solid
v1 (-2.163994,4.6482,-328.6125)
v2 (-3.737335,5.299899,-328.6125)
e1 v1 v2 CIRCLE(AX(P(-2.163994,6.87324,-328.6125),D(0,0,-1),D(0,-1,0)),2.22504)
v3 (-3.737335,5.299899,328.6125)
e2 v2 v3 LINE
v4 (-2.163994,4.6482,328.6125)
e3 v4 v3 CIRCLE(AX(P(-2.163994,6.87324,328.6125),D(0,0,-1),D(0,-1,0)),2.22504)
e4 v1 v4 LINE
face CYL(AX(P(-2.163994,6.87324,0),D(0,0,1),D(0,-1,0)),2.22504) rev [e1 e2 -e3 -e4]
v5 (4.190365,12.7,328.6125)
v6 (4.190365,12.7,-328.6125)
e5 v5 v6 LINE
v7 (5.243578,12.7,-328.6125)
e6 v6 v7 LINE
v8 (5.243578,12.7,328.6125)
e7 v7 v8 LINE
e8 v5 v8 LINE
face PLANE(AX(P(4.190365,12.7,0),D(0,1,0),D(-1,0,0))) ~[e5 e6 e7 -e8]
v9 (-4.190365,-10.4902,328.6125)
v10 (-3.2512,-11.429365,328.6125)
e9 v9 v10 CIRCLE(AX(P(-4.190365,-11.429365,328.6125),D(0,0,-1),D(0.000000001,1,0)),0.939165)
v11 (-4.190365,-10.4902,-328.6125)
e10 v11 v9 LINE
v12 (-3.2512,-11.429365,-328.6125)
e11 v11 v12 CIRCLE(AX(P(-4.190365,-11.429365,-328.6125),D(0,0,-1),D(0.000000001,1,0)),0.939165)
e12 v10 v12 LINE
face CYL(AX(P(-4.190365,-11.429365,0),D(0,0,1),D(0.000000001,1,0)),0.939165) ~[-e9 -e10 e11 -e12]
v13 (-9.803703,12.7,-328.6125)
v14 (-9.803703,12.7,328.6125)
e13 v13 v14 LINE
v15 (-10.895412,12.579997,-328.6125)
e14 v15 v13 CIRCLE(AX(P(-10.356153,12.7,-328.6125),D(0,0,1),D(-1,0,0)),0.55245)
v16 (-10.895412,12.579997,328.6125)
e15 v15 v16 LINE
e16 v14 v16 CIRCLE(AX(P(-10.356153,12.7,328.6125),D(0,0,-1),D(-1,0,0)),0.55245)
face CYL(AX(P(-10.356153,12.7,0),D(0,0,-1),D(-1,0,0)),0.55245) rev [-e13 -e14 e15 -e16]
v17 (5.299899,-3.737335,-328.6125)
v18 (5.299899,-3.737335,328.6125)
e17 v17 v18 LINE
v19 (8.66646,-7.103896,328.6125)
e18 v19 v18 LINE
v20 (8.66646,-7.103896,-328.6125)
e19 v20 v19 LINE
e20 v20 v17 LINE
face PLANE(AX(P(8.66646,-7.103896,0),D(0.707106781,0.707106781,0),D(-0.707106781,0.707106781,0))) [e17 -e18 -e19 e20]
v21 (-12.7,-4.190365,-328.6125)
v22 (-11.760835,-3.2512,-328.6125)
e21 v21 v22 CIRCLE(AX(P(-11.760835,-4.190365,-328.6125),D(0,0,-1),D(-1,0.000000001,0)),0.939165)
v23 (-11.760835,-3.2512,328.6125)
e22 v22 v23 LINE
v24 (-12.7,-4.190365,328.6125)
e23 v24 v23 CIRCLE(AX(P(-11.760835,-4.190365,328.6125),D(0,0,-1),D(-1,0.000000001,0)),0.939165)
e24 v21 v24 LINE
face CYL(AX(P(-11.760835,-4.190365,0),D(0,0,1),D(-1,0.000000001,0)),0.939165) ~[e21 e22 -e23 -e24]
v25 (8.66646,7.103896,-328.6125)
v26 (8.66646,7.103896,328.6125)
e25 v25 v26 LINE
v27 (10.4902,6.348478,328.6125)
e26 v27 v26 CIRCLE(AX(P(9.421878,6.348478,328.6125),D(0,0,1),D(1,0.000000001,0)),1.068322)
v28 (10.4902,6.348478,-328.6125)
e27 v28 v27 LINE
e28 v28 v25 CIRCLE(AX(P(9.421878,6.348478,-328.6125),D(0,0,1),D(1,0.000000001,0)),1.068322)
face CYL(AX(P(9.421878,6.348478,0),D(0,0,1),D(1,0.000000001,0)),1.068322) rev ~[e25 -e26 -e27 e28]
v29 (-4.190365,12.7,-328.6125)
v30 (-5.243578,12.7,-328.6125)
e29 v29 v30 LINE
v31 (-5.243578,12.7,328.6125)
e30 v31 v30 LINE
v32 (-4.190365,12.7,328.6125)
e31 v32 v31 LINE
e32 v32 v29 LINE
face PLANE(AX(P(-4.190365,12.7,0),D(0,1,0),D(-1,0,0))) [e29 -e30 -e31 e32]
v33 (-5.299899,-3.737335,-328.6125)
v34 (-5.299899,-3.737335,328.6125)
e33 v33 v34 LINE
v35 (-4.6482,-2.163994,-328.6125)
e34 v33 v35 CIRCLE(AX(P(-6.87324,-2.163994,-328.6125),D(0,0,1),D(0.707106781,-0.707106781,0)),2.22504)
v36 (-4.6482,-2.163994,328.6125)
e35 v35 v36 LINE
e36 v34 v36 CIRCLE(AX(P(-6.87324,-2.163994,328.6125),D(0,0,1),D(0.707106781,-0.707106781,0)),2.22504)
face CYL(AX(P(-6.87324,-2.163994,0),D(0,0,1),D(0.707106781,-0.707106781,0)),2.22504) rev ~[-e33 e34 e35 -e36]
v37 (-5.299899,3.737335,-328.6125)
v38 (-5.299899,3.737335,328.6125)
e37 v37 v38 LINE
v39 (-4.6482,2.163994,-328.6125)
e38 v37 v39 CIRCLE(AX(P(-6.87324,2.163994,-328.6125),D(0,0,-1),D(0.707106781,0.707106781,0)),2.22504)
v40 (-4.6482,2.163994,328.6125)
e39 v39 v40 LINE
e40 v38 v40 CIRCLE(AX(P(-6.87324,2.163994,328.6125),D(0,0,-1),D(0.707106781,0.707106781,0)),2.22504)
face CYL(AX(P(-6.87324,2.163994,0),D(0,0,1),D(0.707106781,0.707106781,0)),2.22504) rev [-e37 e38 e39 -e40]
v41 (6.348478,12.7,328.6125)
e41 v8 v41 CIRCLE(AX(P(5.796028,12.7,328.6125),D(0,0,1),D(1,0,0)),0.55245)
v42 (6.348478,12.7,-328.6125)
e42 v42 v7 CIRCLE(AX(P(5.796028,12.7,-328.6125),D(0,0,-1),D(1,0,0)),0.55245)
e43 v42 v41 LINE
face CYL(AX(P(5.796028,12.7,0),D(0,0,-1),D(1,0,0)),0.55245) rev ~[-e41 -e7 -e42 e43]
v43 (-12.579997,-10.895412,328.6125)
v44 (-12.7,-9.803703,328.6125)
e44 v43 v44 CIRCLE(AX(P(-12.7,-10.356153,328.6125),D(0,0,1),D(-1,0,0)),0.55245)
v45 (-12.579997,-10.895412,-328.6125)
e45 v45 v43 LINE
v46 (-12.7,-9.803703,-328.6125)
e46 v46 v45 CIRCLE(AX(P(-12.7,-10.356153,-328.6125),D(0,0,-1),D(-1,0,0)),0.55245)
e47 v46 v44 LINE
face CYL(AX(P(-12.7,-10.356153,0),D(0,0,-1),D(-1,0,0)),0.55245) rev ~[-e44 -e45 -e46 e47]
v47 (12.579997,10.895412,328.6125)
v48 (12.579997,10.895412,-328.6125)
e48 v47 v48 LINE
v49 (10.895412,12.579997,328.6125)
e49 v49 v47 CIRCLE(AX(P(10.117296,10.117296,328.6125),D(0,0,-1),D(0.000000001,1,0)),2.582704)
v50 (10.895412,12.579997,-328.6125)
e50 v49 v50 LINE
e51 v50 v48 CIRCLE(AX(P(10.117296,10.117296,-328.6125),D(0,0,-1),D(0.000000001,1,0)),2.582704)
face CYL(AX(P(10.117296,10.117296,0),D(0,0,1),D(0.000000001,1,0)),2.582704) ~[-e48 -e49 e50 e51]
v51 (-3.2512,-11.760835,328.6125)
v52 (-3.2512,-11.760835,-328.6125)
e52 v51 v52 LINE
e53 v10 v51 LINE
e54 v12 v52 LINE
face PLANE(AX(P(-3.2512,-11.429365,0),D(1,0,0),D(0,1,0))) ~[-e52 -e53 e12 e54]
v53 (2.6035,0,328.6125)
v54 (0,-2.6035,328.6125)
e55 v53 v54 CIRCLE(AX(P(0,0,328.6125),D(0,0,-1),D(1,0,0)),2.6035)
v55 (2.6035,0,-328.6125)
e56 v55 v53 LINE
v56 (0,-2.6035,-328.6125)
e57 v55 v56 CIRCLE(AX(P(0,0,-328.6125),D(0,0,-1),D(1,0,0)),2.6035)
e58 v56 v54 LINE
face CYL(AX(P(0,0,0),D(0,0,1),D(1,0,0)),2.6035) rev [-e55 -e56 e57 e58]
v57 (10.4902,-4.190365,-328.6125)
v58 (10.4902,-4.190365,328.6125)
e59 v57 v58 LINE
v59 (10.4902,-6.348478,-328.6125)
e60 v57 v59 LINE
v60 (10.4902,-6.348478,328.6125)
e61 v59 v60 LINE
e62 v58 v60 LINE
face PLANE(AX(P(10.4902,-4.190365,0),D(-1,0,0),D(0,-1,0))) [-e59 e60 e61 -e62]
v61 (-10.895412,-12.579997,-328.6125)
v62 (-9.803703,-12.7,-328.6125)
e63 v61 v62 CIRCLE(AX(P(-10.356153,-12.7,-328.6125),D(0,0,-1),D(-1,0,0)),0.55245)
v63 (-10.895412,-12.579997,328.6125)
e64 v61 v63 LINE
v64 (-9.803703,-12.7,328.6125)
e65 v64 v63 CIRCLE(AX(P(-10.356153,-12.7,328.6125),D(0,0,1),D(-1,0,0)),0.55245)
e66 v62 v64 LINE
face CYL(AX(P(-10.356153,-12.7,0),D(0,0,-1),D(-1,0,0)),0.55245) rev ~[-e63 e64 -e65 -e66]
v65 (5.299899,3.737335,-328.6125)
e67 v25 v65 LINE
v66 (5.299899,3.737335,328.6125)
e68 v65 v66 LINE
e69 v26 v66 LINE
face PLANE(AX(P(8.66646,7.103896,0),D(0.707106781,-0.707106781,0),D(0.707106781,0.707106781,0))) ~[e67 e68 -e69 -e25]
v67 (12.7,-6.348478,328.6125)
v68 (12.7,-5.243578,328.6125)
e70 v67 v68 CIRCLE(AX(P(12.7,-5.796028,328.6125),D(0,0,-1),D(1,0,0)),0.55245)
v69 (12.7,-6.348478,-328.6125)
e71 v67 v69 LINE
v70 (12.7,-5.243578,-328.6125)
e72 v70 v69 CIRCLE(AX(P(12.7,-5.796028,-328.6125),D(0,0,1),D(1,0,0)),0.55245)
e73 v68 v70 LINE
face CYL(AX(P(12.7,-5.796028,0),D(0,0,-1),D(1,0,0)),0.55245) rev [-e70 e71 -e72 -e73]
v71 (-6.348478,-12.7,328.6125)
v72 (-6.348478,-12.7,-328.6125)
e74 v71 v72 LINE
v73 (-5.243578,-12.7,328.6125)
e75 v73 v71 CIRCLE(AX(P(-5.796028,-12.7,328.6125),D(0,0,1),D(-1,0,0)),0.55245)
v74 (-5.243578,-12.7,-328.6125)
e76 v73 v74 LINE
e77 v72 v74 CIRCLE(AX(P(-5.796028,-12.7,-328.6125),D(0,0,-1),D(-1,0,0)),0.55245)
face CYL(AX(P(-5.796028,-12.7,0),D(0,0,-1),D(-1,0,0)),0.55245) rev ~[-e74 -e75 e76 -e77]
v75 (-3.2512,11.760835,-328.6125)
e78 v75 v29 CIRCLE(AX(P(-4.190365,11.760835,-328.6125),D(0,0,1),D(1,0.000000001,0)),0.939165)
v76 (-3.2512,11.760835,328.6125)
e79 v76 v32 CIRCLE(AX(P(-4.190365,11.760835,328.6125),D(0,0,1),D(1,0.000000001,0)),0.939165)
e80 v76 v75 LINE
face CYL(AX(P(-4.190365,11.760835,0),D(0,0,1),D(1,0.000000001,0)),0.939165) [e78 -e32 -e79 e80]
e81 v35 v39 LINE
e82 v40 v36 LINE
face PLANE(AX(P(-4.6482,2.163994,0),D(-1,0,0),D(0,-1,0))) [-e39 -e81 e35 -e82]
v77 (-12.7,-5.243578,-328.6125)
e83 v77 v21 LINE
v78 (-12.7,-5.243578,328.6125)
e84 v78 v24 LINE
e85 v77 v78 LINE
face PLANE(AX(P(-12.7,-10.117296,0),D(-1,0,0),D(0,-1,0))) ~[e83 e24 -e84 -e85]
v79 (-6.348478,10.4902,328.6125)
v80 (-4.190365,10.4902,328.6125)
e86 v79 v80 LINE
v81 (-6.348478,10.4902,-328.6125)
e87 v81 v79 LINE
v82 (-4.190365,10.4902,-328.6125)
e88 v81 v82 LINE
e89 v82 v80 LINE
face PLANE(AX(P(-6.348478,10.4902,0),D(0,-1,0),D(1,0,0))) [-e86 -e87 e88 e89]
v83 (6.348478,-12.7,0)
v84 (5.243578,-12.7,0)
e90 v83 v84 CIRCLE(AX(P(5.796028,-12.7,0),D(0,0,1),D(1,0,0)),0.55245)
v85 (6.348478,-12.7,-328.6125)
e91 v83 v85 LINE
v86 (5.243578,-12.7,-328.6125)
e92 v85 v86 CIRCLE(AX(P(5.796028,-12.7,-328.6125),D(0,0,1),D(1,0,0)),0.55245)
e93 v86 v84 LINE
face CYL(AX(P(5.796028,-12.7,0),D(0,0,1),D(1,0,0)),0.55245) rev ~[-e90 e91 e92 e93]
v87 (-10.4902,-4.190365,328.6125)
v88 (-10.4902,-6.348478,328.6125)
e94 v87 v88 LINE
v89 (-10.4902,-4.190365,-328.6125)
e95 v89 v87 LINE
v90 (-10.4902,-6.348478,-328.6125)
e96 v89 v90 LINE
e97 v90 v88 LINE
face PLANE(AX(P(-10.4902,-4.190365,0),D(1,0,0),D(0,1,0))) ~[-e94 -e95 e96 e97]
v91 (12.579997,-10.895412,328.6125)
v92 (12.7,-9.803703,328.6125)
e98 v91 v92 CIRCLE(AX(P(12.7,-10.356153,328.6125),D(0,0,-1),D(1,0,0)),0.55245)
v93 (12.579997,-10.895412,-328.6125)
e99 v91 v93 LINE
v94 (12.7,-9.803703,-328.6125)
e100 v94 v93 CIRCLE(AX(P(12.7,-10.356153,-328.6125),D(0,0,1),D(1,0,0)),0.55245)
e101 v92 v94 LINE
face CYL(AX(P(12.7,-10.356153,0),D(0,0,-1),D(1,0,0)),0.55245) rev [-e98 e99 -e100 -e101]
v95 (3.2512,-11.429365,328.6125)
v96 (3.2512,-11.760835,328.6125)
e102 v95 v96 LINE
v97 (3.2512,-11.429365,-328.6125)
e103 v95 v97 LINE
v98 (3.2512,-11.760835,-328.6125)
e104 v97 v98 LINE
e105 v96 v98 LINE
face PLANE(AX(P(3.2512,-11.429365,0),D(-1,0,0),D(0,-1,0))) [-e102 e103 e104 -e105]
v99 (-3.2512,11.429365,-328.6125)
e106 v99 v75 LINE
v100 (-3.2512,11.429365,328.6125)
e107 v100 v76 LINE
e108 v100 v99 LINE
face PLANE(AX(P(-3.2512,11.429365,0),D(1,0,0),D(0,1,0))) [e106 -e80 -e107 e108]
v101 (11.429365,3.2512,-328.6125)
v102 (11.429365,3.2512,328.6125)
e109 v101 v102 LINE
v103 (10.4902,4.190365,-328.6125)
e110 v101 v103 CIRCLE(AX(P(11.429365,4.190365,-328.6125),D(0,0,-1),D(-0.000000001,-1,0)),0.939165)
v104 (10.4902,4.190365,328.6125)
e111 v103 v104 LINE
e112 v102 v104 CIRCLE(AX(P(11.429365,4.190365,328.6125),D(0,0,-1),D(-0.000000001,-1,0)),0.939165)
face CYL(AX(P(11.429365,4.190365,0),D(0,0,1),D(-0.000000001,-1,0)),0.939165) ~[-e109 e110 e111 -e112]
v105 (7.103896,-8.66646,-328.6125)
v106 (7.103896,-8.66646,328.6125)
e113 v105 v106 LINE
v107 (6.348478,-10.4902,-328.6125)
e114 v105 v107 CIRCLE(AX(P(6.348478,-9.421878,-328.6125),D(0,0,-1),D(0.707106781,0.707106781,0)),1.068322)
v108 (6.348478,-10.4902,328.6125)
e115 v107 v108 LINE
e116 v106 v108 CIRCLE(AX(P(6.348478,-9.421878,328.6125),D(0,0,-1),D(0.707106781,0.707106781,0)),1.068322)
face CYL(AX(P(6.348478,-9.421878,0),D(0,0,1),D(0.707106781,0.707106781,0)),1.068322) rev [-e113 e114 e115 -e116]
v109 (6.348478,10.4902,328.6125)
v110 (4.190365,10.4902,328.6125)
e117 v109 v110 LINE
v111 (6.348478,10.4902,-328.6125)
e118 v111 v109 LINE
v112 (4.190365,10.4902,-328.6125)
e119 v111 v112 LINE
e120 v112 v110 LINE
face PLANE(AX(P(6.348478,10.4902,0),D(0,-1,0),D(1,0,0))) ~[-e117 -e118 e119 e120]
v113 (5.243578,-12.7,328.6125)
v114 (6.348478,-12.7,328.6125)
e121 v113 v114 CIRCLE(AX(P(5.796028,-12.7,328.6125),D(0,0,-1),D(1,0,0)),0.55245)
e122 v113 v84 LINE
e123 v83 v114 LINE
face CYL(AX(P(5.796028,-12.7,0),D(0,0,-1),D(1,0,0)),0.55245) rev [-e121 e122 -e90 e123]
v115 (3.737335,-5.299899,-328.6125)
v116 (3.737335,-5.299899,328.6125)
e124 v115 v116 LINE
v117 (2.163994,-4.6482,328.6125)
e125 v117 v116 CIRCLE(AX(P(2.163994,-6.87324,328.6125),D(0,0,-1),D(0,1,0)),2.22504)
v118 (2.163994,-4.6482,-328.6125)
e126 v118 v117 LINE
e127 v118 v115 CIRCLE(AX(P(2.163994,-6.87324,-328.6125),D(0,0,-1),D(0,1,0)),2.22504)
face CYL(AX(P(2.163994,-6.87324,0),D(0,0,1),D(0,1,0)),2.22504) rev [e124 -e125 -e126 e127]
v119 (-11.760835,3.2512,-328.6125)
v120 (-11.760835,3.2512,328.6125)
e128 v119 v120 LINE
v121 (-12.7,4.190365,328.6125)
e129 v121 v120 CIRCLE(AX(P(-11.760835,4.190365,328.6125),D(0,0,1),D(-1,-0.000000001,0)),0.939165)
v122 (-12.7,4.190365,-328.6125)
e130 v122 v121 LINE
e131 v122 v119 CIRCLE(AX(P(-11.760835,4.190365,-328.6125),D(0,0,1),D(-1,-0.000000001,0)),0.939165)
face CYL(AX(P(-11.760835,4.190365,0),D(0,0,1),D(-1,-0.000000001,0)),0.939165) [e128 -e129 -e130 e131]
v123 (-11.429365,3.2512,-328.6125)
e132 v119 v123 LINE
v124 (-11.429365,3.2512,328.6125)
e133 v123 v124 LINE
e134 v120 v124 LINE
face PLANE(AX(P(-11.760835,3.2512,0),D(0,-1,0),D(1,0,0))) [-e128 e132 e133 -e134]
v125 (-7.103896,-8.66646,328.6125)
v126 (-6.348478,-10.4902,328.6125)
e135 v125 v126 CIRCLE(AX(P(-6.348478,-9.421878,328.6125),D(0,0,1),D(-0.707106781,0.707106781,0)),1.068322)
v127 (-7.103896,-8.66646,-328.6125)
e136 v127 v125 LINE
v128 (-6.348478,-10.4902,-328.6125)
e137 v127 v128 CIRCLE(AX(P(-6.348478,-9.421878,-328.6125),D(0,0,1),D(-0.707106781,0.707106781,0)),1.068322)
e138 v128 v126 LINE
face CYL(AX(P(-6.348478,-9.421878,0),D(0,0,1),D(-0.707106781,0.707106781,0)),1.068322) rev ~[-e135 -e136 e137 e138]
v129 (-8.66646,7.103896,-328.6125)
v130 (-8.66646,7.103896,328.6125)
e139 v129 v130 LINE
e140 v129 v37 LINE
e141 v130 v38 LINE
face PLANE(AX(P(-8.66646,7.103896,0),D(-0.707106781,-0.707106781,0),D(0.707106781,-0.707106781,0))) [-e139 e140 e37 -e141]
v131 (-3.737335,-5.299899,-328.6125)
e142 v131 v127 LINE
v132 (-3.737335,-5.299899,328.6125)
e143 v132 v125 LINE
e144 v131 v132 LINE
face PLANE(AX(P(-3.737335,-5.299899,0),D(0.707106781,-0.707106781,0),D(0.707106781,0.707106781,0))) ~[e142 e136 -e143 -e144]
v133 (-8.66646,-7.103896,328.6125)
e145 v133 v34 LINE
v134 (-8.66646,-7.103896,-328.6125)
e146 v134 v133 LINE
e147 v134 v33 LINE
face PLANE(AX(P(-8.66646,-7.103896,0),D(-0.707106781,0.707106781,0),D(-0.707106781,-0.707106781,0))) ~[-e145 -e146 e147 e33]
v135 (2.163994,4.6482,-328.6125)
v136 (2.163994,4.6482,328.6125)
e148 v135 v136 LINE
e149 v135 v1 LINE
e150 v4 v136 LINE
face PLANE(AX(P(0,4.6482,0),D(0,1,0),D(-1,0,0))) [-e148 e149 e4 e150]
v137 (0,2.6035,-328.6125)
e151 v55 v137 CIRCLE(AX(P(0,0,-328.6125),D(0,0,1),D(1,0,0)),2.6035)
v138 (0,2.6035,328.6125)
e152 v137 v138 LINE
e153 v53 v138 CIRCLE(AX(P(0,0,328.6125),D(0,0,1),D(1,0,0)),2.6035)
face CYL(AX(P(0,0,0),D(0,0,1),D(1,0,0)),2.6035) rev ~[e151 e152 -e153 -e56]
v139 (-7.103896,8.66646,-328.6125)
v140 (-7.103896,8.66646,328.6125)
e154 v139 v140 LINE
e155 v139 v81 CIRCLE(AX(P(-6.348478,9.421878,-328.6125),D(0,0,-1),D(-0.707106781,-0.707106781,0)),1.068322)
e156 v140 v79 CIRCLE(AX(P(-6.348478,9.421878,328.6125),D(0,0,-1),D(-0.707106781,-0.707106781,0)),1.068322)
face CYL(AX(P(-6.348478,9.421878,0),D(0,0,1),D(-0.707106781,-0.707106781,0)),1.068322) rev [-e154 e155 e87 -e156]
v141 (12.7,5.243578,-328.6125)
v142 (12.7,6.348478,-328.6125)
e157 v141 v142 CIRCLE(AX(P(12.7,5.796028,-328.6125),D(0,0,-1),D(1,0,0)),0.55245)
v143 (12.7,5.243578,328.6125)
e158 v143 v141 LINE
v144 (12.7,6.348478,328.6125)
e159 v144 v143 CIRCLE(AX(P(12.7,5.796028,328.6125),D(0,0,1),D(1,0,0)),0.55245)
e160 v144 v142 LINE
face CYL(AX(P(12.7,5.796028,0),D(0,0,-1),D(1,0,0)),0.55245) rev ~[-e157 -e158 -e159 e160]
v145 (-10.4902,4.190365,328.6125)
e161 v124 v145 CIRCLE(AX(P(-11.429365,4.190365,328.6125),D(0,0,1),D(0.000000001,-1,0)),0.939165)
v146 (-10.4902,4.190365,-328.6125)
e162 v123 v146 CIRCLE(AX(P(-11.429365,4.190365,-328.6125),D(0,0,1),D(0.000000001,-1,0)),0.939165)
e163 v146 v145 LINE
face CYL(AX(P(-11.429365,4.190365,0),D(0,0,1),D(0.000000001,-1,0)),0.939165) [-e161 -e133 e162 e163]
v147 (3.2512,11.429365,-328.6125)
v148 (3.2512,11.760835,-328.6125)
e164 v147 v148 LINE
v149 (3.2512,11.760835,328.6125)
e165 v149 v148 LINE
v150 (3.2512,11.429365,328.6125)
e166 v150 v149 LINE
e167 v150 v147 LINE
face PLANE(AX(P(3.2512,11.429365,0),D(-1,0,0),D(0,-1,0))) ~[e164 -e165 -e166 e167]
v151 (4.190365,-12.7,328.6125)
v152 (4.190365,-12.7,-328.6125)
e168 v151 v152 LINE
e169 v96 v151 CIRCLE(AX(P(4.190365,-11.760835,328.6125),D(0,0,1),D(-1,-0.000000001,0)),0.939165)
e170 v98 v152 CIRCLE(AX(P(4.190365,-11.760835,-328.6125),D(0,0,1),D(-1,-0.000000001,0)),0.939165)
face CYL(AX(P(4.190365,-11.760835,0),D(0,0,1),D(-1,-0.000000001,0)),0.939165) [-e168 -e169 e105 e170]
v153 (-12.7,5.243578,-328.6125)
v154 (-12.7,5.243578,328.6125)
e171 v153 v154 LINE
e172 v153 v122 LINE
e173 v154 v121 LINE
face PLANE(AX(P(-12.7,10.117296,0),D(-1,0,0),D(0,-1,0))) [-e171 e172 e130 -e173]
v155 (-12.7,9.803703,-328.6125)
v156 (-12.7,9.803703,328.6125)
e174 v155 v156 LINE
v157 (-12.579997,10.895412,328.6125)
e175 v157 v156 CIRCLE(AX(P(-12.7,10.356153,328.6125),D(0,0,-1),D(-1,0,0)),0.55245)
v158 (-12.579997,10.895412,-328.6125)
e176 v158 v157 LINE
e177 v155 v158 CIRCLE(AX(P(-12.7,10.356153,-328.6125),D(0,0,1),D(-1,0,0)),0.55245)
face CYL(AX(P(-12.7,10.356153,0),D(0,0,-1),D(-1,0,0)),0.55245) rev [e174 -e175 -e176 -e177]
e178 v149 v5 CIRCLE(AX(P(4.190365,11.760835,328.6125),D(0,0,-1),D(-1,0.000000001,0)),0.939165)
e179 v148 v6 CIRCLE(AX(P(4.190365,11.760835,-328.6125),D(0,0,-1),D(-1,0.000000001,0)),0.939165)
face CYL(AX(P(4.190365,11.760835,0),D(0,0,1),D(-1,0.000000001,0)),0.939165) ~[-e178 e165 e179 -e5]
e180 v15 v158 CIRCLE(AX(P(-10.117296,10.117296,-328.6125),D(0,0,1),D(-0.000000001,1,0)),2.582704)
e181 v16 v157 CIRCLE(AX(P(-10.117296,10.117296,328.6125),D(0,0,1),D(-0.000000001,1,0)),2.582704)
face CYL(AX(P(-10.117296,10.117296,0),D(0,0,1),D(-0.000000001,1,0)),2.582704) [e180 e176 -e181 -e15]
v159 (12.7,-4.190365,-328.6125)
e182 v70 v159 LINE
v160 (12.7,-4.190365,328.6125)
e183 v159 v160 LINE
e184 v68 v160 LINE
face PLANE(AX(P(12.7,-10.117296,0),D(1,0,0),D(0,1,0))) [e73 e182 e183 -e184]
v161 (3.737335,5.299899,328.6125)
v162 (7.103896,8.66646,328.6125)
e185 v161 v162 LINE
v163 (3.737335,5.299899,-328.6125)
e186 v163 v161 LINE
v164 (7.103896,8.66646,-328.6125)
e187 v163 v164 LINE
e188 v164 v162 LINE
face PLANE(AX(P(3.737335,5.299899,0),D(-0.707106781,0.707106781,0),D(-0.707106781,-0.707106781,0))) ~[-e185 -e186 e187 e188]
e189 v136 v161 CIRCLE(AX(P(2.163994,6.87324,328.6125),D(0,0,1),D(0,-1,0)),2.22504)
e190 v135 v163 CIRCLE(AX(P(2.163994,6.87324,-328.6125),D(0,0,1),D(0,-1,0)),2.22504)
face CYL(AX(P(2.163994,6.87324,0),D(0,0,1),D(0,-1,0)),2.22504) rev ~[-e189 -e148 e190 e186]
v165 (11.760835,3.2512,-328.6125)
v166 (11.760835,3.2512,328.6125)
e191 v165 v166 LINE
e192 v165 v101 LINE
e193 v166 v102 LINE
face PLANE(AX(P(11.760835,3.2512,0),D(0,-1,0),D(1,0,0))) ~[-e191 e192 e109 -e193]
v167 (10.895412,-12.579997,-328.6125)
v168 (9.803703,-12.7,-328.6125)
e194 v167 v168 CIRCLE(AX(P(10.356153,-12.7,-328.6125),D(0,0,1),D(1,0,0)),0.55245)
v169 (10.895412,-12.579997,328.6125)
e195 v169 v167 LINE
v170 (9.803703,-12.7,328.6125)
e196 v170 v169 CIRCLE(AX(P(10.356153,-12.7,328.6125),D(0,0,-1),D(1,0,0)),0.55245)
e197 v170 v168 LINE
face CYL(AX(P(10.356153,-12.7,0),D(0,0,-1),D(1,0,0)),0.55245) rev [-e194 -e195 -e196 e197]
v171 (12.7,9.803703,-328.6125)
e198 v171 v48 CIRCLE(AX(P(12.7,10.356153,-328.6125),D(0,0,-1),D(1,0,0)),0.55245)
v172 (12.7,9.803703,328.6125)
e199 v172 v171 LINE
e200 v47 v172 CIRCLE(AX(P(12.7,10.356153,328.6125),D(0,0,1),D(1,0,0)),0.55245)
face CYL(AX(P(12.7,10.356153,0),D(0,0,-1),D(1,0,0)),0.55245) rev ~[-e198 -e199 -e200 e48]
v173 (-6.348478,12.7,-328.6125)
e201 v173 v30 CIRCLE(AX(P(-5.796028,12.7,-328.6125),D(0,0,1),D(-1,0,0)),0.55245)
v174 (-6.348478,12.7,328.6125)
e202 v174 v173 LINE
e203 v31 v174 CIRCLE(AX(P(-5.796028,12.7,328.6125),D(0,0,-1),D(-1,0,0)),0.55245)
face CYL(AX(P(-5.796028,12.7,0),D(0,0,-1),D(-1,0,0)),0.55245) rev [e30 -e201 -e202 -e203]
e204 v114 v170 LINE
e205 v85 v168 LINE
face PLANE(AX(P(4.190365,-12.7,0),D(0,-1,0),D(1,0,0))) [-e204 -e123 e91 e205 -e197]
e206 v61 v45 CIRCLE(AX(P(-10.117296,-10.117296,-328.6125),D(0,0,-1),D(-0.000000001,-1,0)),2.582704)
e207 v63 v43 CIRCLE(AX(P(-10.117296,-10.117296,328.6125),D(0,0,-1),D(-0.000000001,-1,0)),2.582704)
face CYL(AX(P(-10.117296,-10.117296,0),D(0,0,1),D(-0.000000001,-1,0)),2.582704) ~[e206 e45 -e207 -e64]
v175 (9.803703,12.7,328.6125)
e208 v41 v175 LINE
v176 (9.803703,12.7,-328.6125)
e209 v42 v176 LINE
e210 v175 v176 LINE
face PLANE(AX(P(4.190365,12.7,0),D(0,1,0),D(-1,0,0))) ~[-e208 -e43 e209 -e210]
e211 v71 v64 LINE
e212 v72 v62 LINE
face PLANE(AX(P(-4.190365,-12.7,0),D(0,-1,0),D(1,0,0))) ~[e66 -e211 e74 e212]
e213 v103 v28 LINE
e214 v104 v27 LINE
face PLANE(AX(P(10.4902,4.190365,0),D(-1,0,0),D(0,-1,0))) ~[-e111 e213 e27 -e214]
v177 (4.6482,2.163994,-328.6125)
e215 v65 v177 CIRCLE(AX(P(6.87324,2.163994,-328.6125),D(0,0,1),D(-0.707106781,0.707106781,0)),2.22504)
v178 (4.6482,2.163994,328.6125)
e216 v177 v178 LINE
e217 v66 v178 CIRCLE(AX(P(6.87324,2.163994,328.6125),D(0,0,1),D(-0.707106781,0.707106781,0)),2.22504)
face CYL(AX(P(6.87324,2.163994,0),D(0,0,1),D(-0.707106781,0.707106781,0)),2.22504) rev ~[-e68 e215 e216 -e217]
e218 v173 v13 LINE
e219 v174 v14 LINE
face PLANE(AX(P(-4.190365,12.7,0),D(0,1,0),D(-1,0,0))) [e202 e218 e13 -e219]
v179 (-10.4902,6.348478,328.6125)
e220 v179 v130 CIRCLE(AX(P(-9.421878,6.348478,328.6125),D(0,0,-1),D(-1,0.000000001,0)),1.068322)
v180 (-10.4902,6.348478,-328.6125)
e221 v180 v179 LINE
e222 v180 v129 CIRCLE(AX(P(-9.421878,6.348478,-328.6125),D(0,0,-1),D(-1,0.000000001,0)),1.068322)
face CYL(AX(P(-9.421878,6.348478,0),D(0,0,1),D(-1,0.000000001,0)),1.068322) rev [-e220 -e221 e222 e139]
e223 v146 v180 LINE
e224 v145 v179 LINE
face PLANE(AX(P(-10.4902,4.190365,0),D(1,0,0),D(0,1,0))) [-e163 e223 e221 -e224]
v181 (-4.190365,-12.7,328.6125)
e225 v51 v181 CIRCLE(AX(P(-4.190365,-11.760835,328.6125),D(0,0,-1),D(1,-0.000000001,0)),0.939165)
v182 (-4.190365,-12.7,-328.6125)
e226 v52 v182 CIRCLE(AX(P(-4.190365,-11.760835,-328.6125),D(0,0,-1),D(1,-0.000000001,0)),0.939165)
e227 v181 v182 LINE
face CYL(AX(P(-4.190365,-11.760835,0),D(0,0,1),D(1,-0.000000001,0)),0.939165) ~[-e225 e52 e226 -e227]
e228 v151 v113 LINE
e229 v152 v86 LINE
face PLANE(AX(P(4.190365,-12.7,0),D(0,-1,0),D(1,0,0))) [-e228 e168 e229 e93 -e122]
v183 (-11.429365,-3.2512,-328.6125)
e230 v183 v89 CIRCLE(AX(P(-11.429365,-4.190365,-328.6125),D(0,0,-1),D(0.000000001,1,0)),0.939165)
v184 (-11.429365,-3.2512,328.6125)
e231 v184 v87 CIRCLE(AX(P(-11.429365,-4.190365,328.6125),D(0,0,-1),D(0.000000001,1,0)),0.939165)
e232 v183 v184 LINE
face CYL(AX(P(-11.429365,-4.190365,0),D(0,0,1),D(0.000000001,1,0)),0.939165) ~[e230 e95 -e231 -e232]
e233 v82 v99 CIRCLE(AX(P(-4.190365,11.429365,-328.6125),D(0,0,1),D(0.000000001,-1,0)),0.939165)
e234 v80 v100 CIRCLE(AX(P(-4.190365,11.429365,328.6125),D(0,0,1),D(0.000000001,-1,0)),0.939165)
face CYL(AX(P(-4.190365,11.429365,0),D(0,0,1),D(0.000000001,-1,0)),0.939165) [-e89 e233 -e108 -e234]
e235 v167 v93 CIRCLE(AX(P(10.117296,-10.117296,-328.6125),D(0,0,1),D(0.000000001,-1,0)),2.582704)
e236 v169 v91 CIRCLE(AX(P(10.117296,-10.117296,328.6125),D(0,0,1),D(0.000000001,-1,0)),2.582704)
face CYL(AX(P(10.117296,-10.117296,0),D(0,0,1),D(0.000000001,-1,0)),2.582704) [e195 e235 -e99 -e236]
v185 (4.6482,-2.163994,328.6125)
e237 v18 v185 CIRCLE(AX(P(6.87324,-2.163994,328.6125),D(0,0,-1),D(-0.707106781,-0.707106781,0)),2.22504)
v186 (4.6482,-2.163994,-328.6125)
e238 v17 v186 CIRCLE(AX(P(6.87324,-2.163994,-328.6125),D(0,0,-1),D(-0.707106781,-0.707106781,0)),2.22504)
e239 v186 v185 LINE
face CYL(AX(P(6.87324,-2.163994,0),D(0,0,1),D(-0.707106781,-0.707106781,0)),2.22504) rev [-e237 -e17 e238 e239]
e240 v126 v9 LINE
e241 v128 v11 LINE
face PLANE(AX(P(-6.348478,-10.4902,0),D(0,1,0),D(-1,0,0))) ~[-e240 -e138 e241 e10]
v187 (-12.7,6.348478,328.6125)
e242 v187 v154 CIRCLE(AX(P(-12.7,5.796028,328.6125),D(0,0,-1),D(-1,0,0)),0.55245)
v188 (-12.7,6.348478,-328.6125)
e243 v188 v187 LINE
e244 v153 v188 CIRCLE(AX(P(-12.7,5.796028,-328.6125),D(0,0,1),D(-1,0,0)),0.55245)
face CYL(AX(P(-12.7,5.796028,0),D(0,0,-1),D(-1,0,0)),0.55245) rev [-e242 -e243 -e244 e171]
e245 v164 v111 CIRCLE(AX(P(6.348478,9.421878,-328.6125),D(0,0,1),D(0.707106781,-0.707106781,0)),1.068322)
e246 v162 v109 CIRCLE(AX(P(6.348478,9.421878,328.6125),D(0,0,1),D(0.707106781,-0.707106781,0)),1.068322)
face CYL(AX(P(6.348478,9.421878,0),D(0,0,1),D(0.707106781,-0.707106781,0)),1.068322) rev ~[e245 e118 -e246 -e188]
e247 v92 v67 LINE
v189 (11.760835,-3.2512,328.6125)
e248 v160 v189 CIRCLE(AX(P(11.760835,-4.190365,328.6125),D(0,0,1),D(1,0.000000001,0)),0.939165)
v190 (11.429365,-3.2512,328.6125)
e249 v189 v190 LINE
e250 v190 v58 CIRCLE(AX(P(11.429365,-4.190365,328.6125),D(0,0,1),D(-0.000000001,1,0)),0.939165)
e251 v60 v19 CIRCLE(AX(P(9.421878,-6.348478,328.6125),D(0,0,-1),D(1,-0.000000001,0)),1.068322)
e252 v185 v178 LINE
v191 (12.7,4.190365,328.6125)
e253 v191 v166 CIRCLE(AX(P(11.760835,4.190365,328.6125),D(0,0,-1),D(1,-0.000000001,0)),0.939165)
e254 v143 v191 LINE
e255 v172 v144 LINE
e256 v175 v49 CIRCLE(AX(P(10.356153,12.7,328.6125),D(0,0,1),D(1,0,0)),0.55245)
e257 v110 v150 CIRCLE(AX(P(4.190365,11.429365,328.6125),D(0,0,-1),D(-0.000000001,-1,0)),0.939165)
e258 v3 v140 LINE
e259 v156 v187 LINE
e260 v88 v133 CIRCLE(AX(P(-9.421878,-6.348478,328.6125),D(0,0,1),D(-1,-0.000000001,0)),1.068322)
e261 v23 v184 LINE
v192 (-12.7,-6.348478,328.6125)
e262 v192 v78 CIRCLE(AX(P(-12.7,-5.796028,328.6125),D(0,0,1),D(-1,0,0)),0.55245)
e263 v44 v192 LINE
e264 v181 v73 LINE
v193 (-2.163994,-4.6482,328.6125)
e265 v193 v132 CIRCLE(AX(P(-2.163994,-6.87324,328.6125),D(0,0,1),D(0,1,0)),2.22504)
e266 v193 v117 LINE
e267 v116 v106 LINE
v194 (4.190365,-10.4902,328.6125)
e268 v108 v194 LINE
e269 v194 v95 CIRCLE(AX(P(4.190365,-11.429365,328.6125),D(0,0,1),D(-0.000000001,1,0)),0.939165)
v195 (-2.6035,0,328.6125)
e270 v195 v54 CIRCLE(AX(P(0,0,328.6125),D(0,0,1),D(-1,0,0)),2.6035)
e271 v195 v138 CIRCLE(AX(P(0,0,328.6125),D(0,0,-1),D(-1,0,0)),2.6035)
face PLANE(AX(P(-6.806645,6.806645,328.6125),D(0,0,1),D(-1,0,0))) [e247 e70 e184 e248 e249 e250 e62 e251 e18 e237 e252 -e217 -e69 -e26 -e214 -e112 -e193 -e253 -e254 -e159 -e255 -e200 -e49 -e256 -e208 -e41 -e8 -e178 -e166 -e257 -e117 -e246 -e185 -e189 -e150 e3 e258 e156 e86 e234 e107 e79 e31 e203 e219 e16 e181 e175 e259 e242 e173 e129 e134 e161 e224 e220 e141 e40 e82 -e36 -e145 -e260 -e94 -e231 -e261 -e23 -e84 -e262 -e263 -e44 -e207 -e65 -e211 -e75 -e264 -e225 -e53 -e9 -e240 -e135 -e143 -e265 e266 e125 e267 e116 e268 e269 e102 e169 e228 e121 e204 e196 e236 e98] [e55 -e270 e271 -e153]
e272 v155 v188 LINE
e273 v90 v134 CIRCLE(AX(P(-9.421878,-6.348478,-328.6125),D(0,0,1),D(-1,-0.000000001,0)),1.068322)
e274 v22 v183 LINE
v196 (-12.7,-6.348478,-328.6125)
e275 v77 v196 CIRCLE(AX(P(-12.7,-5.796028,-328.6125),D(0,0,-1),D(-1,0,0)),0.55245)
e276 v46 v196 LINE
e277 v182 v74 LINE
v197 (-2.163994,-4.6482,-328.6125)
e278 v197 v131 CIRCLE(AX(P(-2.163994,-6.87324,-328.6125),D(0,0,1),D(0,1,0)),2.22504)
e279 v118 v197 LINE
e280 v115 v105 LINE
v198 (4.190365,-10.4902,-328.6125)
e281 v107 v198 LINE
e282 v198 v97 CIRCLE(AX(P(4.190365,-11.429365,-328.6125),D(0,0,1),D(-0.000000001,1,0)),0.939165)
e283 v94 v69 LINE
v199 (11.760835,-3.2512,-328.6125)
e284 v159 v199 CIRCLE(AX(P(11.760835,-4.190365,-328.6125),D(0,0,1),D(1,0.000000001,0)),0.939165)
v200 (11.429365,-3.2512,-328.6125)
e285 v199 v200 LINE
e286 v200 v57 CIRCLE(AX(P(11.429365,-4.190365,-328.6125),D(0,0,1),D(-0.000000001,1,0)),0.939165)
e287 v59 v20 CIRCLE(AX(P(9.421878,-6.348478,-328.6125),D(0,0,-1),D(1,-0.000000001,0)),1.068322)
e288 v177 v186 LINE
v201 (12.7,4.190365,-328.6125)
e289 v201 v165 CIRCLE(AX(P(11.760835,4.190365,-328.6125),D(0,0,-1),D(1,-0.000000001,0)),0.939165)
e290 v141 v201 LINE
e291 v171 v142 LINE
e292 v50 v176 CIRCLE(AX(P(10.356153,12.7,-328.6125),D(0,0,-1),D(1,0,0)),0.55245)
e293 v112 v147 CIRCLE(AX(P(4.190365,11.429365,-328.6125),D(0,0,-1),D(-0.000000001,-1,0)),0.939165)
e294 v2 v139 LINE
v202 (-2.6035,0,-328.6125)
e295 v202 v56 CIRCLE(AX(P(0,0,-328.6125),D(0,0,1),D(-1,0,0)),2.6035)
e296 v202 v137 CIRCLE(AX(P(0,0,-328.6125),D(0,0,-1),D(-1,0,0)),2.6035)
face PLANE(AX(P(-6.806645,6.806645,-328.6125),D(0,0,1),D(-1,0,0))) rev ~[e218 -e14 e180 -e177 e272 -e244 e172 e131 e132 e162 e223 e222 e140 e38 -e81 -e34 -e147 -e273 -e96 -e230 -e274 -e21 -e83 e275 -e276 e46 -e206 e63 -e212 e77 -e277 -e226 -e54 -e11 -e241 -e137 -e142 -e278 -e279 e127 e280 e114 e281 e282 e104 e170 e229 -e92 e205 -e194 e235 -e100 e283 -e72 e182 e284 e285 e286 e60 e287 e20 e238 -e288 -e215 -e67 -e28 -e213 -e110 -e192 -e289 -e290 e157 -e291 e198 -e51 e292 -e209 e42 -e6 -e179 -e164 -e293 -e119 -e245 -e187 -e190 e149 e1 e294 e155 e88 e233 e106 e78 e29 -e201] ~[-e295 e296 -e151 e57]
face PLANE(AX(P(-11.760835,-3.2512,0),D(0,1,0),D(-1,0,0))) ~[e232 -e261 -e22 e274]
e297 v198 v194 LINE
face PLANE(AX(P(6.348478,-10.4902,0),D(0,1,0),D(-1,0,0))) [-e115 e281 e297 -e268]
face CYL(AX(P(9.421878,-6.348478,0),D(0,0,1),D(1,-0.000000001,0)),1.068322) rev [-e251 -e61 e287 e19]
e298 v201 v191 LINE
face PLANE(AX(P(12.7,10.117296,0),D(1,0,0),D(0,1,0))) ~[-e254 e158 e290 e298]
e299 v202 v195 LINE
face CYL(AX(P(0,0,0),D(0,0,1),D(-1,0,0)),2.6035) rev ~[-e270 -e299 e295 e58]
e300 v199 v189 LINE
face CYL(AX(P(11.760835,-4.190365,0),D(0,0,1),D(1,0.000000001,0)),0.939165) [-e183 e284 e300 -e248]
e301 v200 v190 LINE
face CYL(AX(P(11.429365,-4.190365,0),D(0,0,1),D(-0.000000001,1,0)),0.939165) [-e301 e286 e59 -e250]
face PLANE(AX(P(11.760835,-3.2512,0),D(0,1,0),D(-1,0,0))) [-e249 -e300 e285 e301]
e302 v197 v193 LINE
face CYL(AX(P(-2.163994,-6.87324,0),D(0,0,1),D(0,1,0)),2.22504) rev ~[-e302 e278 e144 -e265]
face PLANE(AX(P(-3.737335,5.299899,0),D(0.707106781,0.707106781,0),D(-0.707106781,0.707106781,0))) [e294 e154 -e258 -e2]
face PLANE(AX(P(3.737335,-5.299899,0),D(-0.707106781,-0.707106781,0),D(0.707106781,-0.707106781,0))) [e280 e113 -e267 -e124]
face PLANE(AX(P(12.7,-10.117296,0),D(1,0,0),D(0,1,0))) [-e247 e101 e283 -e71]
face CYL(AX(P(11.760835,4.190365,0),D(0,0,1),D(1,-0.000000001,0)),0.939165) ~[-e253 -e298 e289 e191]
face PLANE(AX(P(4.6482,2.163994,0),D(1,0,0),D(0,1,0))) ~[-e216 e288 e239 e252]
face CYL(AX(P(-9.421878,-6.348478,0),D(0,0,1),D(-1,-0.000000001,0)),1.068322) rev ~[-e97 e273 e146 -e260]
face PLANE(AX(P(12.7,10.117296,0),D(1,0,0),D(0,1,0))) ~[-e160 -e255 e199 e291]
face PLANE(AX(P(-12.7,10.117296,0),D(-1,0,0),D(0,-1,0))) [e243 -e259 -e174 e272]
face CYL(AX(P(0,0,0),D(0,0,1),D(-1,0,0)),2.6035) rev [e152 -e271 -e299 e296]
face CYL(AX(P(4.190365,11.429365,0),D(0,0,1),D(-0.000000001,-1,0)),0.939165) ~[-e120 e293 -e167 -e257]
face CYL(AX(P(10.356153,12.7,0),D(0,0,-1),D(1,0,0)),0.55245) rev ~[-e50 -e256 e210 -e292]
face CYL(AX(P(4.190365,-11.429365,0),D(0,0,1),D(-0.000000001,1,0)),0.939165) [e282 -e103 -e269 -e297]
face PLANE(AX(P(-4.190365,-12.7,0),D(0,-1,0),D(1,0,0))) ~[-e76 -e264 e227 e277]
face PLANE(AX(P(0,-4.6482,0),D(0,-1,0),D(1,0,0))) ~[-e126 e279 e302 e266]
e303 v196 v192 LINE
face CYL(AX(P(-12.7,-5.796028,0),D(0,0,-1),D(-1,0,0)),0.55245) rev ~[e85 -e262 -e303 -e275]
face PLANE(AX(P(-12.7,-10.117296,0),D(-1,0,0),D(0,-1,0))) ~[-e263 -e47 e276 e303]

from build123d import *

# Parameters (mm, degrees)
BOSS_EXTRUDE1_DEPTH     = 328.6125
SKETCH5_R               = 0.55245
CUT_EXTRUDE1_DEPTH      = 329.6125
CUT_EXTRUDE1_DEPTH_BACK = 329.6125


with BuildPart() as part:
    # Sketch4 → Boss-Extrude1 (new body, symmetric)
    with BuildSketch(Plane.XY):
        with BuildLine():
            Line((4.190365, -12.7), (10.11729625, -12.7))
            ThreePointArc((10.11729625, -12.7), (11.943543585, -11.943543585), (12.7, -10.11729625))
            Line((12.7, -10.11729625), (12.7, -4.190365))
            ThreePointArc((12.7, -4.190365), (12.42492494, -3.52627506), (11.760835, -3.2512))
            Line((11.760835, -3.2512), (11.429365, -3.2512))
            ThreePointArc((11.429365, -3.2512), (10.76527506, -3.52627506), (10.4902, -4.190365))
            Line((10.4902, -4.190365), (10.4902, -6.348478019))
            ThreePointArc((10.4902, -6.348478019), (9.830707141, -7.335478831), (8.666460301, -7.103895736))
            Line((8.666460301, -7.103895736), (5.299899128, -3.737334563))
            ThreePointArc((5.299899128, -3.737334563), (4.817571085, -3.015479634), (4.6482, -2.16399369))
            Line((4.6482, -2.16399369), (4.6482, 0))
            Line((4.6482, 0), (2.6035, 0))
            ThreePointArc((2.6035, 0), (1.840952505, -1.840952505), (0, -2.6035))
            Line((0, -2.6035), (0, -4.6482))
            Line((0, -4.6482), (2.16399369, -4.6482))
            ThreePointArc((2.16399369, -4.6482), (3.015479634, -4.817571085), (3.737334563, -5.299899128))
            Line((3.737334563, -5.299899128), (7.103895736, -8.666460301))
            ThreePointArc((7.103895736, -8.666460301), (7.335478831, -9.830707141), (6.348478019, -10.4902))
            Line((6.348478019, -10.4902), (4.190365, -10.4902))
            ThreePointArc((4.190365, -10.4902), (3.52627506, -10.76527506), (3.2512, -11.429365))
            Line((3.2512, -11.429365), (3.2512, -11.760835))
            ThreePointArc((3.2512, -11.760835), (3.52627506, -12.42492494), (4.190365, -12.7))
        make_face()
    extrude(amount=BOSS_EXTRUDE1_DEPTH, both=True)

    # Sketch5 → Cut-Extrude1 (cut, two sides)
    with BuildSketch(Plane.XY) as cut_extrude1_sk:
        with Locations((10.356153152, -12.7)):
            Circle(SKETCH5_R)
        with Locations((5.796028019, -12.7)):
            Circle(SKETCH5_R)
        with Locations((12.7, -10.356153152)):
            Circle(SKETCH5_R)
        with Locations((12.7, -5.796028019)):
            Circle(SKETCH5_R)
    extrude(amount=CUT_EXTRUDE1_DEPTH, mode=Mode.SUBTRACT)
    extrude(cut_extrude1_sk.sketch, amount=-CUT_EXTRUDE1_DEPTH_BACK, mode=Mode.SUBTRACT)

    # Mirror1: part across plane


with BuildPart() as part_1:
    add(part.part)
    add(part.part.mirror(Plane(origin=(0, 0, 0), x_dir=(0, 0, 1), z_dir=(1, 0, 0))))

    # Mirror2: part across plane


with BuildPart() as part_2:
    add(part_1.part)
    add(part_1.part.mirror(Plane.ZX))


solid = part_2.part
